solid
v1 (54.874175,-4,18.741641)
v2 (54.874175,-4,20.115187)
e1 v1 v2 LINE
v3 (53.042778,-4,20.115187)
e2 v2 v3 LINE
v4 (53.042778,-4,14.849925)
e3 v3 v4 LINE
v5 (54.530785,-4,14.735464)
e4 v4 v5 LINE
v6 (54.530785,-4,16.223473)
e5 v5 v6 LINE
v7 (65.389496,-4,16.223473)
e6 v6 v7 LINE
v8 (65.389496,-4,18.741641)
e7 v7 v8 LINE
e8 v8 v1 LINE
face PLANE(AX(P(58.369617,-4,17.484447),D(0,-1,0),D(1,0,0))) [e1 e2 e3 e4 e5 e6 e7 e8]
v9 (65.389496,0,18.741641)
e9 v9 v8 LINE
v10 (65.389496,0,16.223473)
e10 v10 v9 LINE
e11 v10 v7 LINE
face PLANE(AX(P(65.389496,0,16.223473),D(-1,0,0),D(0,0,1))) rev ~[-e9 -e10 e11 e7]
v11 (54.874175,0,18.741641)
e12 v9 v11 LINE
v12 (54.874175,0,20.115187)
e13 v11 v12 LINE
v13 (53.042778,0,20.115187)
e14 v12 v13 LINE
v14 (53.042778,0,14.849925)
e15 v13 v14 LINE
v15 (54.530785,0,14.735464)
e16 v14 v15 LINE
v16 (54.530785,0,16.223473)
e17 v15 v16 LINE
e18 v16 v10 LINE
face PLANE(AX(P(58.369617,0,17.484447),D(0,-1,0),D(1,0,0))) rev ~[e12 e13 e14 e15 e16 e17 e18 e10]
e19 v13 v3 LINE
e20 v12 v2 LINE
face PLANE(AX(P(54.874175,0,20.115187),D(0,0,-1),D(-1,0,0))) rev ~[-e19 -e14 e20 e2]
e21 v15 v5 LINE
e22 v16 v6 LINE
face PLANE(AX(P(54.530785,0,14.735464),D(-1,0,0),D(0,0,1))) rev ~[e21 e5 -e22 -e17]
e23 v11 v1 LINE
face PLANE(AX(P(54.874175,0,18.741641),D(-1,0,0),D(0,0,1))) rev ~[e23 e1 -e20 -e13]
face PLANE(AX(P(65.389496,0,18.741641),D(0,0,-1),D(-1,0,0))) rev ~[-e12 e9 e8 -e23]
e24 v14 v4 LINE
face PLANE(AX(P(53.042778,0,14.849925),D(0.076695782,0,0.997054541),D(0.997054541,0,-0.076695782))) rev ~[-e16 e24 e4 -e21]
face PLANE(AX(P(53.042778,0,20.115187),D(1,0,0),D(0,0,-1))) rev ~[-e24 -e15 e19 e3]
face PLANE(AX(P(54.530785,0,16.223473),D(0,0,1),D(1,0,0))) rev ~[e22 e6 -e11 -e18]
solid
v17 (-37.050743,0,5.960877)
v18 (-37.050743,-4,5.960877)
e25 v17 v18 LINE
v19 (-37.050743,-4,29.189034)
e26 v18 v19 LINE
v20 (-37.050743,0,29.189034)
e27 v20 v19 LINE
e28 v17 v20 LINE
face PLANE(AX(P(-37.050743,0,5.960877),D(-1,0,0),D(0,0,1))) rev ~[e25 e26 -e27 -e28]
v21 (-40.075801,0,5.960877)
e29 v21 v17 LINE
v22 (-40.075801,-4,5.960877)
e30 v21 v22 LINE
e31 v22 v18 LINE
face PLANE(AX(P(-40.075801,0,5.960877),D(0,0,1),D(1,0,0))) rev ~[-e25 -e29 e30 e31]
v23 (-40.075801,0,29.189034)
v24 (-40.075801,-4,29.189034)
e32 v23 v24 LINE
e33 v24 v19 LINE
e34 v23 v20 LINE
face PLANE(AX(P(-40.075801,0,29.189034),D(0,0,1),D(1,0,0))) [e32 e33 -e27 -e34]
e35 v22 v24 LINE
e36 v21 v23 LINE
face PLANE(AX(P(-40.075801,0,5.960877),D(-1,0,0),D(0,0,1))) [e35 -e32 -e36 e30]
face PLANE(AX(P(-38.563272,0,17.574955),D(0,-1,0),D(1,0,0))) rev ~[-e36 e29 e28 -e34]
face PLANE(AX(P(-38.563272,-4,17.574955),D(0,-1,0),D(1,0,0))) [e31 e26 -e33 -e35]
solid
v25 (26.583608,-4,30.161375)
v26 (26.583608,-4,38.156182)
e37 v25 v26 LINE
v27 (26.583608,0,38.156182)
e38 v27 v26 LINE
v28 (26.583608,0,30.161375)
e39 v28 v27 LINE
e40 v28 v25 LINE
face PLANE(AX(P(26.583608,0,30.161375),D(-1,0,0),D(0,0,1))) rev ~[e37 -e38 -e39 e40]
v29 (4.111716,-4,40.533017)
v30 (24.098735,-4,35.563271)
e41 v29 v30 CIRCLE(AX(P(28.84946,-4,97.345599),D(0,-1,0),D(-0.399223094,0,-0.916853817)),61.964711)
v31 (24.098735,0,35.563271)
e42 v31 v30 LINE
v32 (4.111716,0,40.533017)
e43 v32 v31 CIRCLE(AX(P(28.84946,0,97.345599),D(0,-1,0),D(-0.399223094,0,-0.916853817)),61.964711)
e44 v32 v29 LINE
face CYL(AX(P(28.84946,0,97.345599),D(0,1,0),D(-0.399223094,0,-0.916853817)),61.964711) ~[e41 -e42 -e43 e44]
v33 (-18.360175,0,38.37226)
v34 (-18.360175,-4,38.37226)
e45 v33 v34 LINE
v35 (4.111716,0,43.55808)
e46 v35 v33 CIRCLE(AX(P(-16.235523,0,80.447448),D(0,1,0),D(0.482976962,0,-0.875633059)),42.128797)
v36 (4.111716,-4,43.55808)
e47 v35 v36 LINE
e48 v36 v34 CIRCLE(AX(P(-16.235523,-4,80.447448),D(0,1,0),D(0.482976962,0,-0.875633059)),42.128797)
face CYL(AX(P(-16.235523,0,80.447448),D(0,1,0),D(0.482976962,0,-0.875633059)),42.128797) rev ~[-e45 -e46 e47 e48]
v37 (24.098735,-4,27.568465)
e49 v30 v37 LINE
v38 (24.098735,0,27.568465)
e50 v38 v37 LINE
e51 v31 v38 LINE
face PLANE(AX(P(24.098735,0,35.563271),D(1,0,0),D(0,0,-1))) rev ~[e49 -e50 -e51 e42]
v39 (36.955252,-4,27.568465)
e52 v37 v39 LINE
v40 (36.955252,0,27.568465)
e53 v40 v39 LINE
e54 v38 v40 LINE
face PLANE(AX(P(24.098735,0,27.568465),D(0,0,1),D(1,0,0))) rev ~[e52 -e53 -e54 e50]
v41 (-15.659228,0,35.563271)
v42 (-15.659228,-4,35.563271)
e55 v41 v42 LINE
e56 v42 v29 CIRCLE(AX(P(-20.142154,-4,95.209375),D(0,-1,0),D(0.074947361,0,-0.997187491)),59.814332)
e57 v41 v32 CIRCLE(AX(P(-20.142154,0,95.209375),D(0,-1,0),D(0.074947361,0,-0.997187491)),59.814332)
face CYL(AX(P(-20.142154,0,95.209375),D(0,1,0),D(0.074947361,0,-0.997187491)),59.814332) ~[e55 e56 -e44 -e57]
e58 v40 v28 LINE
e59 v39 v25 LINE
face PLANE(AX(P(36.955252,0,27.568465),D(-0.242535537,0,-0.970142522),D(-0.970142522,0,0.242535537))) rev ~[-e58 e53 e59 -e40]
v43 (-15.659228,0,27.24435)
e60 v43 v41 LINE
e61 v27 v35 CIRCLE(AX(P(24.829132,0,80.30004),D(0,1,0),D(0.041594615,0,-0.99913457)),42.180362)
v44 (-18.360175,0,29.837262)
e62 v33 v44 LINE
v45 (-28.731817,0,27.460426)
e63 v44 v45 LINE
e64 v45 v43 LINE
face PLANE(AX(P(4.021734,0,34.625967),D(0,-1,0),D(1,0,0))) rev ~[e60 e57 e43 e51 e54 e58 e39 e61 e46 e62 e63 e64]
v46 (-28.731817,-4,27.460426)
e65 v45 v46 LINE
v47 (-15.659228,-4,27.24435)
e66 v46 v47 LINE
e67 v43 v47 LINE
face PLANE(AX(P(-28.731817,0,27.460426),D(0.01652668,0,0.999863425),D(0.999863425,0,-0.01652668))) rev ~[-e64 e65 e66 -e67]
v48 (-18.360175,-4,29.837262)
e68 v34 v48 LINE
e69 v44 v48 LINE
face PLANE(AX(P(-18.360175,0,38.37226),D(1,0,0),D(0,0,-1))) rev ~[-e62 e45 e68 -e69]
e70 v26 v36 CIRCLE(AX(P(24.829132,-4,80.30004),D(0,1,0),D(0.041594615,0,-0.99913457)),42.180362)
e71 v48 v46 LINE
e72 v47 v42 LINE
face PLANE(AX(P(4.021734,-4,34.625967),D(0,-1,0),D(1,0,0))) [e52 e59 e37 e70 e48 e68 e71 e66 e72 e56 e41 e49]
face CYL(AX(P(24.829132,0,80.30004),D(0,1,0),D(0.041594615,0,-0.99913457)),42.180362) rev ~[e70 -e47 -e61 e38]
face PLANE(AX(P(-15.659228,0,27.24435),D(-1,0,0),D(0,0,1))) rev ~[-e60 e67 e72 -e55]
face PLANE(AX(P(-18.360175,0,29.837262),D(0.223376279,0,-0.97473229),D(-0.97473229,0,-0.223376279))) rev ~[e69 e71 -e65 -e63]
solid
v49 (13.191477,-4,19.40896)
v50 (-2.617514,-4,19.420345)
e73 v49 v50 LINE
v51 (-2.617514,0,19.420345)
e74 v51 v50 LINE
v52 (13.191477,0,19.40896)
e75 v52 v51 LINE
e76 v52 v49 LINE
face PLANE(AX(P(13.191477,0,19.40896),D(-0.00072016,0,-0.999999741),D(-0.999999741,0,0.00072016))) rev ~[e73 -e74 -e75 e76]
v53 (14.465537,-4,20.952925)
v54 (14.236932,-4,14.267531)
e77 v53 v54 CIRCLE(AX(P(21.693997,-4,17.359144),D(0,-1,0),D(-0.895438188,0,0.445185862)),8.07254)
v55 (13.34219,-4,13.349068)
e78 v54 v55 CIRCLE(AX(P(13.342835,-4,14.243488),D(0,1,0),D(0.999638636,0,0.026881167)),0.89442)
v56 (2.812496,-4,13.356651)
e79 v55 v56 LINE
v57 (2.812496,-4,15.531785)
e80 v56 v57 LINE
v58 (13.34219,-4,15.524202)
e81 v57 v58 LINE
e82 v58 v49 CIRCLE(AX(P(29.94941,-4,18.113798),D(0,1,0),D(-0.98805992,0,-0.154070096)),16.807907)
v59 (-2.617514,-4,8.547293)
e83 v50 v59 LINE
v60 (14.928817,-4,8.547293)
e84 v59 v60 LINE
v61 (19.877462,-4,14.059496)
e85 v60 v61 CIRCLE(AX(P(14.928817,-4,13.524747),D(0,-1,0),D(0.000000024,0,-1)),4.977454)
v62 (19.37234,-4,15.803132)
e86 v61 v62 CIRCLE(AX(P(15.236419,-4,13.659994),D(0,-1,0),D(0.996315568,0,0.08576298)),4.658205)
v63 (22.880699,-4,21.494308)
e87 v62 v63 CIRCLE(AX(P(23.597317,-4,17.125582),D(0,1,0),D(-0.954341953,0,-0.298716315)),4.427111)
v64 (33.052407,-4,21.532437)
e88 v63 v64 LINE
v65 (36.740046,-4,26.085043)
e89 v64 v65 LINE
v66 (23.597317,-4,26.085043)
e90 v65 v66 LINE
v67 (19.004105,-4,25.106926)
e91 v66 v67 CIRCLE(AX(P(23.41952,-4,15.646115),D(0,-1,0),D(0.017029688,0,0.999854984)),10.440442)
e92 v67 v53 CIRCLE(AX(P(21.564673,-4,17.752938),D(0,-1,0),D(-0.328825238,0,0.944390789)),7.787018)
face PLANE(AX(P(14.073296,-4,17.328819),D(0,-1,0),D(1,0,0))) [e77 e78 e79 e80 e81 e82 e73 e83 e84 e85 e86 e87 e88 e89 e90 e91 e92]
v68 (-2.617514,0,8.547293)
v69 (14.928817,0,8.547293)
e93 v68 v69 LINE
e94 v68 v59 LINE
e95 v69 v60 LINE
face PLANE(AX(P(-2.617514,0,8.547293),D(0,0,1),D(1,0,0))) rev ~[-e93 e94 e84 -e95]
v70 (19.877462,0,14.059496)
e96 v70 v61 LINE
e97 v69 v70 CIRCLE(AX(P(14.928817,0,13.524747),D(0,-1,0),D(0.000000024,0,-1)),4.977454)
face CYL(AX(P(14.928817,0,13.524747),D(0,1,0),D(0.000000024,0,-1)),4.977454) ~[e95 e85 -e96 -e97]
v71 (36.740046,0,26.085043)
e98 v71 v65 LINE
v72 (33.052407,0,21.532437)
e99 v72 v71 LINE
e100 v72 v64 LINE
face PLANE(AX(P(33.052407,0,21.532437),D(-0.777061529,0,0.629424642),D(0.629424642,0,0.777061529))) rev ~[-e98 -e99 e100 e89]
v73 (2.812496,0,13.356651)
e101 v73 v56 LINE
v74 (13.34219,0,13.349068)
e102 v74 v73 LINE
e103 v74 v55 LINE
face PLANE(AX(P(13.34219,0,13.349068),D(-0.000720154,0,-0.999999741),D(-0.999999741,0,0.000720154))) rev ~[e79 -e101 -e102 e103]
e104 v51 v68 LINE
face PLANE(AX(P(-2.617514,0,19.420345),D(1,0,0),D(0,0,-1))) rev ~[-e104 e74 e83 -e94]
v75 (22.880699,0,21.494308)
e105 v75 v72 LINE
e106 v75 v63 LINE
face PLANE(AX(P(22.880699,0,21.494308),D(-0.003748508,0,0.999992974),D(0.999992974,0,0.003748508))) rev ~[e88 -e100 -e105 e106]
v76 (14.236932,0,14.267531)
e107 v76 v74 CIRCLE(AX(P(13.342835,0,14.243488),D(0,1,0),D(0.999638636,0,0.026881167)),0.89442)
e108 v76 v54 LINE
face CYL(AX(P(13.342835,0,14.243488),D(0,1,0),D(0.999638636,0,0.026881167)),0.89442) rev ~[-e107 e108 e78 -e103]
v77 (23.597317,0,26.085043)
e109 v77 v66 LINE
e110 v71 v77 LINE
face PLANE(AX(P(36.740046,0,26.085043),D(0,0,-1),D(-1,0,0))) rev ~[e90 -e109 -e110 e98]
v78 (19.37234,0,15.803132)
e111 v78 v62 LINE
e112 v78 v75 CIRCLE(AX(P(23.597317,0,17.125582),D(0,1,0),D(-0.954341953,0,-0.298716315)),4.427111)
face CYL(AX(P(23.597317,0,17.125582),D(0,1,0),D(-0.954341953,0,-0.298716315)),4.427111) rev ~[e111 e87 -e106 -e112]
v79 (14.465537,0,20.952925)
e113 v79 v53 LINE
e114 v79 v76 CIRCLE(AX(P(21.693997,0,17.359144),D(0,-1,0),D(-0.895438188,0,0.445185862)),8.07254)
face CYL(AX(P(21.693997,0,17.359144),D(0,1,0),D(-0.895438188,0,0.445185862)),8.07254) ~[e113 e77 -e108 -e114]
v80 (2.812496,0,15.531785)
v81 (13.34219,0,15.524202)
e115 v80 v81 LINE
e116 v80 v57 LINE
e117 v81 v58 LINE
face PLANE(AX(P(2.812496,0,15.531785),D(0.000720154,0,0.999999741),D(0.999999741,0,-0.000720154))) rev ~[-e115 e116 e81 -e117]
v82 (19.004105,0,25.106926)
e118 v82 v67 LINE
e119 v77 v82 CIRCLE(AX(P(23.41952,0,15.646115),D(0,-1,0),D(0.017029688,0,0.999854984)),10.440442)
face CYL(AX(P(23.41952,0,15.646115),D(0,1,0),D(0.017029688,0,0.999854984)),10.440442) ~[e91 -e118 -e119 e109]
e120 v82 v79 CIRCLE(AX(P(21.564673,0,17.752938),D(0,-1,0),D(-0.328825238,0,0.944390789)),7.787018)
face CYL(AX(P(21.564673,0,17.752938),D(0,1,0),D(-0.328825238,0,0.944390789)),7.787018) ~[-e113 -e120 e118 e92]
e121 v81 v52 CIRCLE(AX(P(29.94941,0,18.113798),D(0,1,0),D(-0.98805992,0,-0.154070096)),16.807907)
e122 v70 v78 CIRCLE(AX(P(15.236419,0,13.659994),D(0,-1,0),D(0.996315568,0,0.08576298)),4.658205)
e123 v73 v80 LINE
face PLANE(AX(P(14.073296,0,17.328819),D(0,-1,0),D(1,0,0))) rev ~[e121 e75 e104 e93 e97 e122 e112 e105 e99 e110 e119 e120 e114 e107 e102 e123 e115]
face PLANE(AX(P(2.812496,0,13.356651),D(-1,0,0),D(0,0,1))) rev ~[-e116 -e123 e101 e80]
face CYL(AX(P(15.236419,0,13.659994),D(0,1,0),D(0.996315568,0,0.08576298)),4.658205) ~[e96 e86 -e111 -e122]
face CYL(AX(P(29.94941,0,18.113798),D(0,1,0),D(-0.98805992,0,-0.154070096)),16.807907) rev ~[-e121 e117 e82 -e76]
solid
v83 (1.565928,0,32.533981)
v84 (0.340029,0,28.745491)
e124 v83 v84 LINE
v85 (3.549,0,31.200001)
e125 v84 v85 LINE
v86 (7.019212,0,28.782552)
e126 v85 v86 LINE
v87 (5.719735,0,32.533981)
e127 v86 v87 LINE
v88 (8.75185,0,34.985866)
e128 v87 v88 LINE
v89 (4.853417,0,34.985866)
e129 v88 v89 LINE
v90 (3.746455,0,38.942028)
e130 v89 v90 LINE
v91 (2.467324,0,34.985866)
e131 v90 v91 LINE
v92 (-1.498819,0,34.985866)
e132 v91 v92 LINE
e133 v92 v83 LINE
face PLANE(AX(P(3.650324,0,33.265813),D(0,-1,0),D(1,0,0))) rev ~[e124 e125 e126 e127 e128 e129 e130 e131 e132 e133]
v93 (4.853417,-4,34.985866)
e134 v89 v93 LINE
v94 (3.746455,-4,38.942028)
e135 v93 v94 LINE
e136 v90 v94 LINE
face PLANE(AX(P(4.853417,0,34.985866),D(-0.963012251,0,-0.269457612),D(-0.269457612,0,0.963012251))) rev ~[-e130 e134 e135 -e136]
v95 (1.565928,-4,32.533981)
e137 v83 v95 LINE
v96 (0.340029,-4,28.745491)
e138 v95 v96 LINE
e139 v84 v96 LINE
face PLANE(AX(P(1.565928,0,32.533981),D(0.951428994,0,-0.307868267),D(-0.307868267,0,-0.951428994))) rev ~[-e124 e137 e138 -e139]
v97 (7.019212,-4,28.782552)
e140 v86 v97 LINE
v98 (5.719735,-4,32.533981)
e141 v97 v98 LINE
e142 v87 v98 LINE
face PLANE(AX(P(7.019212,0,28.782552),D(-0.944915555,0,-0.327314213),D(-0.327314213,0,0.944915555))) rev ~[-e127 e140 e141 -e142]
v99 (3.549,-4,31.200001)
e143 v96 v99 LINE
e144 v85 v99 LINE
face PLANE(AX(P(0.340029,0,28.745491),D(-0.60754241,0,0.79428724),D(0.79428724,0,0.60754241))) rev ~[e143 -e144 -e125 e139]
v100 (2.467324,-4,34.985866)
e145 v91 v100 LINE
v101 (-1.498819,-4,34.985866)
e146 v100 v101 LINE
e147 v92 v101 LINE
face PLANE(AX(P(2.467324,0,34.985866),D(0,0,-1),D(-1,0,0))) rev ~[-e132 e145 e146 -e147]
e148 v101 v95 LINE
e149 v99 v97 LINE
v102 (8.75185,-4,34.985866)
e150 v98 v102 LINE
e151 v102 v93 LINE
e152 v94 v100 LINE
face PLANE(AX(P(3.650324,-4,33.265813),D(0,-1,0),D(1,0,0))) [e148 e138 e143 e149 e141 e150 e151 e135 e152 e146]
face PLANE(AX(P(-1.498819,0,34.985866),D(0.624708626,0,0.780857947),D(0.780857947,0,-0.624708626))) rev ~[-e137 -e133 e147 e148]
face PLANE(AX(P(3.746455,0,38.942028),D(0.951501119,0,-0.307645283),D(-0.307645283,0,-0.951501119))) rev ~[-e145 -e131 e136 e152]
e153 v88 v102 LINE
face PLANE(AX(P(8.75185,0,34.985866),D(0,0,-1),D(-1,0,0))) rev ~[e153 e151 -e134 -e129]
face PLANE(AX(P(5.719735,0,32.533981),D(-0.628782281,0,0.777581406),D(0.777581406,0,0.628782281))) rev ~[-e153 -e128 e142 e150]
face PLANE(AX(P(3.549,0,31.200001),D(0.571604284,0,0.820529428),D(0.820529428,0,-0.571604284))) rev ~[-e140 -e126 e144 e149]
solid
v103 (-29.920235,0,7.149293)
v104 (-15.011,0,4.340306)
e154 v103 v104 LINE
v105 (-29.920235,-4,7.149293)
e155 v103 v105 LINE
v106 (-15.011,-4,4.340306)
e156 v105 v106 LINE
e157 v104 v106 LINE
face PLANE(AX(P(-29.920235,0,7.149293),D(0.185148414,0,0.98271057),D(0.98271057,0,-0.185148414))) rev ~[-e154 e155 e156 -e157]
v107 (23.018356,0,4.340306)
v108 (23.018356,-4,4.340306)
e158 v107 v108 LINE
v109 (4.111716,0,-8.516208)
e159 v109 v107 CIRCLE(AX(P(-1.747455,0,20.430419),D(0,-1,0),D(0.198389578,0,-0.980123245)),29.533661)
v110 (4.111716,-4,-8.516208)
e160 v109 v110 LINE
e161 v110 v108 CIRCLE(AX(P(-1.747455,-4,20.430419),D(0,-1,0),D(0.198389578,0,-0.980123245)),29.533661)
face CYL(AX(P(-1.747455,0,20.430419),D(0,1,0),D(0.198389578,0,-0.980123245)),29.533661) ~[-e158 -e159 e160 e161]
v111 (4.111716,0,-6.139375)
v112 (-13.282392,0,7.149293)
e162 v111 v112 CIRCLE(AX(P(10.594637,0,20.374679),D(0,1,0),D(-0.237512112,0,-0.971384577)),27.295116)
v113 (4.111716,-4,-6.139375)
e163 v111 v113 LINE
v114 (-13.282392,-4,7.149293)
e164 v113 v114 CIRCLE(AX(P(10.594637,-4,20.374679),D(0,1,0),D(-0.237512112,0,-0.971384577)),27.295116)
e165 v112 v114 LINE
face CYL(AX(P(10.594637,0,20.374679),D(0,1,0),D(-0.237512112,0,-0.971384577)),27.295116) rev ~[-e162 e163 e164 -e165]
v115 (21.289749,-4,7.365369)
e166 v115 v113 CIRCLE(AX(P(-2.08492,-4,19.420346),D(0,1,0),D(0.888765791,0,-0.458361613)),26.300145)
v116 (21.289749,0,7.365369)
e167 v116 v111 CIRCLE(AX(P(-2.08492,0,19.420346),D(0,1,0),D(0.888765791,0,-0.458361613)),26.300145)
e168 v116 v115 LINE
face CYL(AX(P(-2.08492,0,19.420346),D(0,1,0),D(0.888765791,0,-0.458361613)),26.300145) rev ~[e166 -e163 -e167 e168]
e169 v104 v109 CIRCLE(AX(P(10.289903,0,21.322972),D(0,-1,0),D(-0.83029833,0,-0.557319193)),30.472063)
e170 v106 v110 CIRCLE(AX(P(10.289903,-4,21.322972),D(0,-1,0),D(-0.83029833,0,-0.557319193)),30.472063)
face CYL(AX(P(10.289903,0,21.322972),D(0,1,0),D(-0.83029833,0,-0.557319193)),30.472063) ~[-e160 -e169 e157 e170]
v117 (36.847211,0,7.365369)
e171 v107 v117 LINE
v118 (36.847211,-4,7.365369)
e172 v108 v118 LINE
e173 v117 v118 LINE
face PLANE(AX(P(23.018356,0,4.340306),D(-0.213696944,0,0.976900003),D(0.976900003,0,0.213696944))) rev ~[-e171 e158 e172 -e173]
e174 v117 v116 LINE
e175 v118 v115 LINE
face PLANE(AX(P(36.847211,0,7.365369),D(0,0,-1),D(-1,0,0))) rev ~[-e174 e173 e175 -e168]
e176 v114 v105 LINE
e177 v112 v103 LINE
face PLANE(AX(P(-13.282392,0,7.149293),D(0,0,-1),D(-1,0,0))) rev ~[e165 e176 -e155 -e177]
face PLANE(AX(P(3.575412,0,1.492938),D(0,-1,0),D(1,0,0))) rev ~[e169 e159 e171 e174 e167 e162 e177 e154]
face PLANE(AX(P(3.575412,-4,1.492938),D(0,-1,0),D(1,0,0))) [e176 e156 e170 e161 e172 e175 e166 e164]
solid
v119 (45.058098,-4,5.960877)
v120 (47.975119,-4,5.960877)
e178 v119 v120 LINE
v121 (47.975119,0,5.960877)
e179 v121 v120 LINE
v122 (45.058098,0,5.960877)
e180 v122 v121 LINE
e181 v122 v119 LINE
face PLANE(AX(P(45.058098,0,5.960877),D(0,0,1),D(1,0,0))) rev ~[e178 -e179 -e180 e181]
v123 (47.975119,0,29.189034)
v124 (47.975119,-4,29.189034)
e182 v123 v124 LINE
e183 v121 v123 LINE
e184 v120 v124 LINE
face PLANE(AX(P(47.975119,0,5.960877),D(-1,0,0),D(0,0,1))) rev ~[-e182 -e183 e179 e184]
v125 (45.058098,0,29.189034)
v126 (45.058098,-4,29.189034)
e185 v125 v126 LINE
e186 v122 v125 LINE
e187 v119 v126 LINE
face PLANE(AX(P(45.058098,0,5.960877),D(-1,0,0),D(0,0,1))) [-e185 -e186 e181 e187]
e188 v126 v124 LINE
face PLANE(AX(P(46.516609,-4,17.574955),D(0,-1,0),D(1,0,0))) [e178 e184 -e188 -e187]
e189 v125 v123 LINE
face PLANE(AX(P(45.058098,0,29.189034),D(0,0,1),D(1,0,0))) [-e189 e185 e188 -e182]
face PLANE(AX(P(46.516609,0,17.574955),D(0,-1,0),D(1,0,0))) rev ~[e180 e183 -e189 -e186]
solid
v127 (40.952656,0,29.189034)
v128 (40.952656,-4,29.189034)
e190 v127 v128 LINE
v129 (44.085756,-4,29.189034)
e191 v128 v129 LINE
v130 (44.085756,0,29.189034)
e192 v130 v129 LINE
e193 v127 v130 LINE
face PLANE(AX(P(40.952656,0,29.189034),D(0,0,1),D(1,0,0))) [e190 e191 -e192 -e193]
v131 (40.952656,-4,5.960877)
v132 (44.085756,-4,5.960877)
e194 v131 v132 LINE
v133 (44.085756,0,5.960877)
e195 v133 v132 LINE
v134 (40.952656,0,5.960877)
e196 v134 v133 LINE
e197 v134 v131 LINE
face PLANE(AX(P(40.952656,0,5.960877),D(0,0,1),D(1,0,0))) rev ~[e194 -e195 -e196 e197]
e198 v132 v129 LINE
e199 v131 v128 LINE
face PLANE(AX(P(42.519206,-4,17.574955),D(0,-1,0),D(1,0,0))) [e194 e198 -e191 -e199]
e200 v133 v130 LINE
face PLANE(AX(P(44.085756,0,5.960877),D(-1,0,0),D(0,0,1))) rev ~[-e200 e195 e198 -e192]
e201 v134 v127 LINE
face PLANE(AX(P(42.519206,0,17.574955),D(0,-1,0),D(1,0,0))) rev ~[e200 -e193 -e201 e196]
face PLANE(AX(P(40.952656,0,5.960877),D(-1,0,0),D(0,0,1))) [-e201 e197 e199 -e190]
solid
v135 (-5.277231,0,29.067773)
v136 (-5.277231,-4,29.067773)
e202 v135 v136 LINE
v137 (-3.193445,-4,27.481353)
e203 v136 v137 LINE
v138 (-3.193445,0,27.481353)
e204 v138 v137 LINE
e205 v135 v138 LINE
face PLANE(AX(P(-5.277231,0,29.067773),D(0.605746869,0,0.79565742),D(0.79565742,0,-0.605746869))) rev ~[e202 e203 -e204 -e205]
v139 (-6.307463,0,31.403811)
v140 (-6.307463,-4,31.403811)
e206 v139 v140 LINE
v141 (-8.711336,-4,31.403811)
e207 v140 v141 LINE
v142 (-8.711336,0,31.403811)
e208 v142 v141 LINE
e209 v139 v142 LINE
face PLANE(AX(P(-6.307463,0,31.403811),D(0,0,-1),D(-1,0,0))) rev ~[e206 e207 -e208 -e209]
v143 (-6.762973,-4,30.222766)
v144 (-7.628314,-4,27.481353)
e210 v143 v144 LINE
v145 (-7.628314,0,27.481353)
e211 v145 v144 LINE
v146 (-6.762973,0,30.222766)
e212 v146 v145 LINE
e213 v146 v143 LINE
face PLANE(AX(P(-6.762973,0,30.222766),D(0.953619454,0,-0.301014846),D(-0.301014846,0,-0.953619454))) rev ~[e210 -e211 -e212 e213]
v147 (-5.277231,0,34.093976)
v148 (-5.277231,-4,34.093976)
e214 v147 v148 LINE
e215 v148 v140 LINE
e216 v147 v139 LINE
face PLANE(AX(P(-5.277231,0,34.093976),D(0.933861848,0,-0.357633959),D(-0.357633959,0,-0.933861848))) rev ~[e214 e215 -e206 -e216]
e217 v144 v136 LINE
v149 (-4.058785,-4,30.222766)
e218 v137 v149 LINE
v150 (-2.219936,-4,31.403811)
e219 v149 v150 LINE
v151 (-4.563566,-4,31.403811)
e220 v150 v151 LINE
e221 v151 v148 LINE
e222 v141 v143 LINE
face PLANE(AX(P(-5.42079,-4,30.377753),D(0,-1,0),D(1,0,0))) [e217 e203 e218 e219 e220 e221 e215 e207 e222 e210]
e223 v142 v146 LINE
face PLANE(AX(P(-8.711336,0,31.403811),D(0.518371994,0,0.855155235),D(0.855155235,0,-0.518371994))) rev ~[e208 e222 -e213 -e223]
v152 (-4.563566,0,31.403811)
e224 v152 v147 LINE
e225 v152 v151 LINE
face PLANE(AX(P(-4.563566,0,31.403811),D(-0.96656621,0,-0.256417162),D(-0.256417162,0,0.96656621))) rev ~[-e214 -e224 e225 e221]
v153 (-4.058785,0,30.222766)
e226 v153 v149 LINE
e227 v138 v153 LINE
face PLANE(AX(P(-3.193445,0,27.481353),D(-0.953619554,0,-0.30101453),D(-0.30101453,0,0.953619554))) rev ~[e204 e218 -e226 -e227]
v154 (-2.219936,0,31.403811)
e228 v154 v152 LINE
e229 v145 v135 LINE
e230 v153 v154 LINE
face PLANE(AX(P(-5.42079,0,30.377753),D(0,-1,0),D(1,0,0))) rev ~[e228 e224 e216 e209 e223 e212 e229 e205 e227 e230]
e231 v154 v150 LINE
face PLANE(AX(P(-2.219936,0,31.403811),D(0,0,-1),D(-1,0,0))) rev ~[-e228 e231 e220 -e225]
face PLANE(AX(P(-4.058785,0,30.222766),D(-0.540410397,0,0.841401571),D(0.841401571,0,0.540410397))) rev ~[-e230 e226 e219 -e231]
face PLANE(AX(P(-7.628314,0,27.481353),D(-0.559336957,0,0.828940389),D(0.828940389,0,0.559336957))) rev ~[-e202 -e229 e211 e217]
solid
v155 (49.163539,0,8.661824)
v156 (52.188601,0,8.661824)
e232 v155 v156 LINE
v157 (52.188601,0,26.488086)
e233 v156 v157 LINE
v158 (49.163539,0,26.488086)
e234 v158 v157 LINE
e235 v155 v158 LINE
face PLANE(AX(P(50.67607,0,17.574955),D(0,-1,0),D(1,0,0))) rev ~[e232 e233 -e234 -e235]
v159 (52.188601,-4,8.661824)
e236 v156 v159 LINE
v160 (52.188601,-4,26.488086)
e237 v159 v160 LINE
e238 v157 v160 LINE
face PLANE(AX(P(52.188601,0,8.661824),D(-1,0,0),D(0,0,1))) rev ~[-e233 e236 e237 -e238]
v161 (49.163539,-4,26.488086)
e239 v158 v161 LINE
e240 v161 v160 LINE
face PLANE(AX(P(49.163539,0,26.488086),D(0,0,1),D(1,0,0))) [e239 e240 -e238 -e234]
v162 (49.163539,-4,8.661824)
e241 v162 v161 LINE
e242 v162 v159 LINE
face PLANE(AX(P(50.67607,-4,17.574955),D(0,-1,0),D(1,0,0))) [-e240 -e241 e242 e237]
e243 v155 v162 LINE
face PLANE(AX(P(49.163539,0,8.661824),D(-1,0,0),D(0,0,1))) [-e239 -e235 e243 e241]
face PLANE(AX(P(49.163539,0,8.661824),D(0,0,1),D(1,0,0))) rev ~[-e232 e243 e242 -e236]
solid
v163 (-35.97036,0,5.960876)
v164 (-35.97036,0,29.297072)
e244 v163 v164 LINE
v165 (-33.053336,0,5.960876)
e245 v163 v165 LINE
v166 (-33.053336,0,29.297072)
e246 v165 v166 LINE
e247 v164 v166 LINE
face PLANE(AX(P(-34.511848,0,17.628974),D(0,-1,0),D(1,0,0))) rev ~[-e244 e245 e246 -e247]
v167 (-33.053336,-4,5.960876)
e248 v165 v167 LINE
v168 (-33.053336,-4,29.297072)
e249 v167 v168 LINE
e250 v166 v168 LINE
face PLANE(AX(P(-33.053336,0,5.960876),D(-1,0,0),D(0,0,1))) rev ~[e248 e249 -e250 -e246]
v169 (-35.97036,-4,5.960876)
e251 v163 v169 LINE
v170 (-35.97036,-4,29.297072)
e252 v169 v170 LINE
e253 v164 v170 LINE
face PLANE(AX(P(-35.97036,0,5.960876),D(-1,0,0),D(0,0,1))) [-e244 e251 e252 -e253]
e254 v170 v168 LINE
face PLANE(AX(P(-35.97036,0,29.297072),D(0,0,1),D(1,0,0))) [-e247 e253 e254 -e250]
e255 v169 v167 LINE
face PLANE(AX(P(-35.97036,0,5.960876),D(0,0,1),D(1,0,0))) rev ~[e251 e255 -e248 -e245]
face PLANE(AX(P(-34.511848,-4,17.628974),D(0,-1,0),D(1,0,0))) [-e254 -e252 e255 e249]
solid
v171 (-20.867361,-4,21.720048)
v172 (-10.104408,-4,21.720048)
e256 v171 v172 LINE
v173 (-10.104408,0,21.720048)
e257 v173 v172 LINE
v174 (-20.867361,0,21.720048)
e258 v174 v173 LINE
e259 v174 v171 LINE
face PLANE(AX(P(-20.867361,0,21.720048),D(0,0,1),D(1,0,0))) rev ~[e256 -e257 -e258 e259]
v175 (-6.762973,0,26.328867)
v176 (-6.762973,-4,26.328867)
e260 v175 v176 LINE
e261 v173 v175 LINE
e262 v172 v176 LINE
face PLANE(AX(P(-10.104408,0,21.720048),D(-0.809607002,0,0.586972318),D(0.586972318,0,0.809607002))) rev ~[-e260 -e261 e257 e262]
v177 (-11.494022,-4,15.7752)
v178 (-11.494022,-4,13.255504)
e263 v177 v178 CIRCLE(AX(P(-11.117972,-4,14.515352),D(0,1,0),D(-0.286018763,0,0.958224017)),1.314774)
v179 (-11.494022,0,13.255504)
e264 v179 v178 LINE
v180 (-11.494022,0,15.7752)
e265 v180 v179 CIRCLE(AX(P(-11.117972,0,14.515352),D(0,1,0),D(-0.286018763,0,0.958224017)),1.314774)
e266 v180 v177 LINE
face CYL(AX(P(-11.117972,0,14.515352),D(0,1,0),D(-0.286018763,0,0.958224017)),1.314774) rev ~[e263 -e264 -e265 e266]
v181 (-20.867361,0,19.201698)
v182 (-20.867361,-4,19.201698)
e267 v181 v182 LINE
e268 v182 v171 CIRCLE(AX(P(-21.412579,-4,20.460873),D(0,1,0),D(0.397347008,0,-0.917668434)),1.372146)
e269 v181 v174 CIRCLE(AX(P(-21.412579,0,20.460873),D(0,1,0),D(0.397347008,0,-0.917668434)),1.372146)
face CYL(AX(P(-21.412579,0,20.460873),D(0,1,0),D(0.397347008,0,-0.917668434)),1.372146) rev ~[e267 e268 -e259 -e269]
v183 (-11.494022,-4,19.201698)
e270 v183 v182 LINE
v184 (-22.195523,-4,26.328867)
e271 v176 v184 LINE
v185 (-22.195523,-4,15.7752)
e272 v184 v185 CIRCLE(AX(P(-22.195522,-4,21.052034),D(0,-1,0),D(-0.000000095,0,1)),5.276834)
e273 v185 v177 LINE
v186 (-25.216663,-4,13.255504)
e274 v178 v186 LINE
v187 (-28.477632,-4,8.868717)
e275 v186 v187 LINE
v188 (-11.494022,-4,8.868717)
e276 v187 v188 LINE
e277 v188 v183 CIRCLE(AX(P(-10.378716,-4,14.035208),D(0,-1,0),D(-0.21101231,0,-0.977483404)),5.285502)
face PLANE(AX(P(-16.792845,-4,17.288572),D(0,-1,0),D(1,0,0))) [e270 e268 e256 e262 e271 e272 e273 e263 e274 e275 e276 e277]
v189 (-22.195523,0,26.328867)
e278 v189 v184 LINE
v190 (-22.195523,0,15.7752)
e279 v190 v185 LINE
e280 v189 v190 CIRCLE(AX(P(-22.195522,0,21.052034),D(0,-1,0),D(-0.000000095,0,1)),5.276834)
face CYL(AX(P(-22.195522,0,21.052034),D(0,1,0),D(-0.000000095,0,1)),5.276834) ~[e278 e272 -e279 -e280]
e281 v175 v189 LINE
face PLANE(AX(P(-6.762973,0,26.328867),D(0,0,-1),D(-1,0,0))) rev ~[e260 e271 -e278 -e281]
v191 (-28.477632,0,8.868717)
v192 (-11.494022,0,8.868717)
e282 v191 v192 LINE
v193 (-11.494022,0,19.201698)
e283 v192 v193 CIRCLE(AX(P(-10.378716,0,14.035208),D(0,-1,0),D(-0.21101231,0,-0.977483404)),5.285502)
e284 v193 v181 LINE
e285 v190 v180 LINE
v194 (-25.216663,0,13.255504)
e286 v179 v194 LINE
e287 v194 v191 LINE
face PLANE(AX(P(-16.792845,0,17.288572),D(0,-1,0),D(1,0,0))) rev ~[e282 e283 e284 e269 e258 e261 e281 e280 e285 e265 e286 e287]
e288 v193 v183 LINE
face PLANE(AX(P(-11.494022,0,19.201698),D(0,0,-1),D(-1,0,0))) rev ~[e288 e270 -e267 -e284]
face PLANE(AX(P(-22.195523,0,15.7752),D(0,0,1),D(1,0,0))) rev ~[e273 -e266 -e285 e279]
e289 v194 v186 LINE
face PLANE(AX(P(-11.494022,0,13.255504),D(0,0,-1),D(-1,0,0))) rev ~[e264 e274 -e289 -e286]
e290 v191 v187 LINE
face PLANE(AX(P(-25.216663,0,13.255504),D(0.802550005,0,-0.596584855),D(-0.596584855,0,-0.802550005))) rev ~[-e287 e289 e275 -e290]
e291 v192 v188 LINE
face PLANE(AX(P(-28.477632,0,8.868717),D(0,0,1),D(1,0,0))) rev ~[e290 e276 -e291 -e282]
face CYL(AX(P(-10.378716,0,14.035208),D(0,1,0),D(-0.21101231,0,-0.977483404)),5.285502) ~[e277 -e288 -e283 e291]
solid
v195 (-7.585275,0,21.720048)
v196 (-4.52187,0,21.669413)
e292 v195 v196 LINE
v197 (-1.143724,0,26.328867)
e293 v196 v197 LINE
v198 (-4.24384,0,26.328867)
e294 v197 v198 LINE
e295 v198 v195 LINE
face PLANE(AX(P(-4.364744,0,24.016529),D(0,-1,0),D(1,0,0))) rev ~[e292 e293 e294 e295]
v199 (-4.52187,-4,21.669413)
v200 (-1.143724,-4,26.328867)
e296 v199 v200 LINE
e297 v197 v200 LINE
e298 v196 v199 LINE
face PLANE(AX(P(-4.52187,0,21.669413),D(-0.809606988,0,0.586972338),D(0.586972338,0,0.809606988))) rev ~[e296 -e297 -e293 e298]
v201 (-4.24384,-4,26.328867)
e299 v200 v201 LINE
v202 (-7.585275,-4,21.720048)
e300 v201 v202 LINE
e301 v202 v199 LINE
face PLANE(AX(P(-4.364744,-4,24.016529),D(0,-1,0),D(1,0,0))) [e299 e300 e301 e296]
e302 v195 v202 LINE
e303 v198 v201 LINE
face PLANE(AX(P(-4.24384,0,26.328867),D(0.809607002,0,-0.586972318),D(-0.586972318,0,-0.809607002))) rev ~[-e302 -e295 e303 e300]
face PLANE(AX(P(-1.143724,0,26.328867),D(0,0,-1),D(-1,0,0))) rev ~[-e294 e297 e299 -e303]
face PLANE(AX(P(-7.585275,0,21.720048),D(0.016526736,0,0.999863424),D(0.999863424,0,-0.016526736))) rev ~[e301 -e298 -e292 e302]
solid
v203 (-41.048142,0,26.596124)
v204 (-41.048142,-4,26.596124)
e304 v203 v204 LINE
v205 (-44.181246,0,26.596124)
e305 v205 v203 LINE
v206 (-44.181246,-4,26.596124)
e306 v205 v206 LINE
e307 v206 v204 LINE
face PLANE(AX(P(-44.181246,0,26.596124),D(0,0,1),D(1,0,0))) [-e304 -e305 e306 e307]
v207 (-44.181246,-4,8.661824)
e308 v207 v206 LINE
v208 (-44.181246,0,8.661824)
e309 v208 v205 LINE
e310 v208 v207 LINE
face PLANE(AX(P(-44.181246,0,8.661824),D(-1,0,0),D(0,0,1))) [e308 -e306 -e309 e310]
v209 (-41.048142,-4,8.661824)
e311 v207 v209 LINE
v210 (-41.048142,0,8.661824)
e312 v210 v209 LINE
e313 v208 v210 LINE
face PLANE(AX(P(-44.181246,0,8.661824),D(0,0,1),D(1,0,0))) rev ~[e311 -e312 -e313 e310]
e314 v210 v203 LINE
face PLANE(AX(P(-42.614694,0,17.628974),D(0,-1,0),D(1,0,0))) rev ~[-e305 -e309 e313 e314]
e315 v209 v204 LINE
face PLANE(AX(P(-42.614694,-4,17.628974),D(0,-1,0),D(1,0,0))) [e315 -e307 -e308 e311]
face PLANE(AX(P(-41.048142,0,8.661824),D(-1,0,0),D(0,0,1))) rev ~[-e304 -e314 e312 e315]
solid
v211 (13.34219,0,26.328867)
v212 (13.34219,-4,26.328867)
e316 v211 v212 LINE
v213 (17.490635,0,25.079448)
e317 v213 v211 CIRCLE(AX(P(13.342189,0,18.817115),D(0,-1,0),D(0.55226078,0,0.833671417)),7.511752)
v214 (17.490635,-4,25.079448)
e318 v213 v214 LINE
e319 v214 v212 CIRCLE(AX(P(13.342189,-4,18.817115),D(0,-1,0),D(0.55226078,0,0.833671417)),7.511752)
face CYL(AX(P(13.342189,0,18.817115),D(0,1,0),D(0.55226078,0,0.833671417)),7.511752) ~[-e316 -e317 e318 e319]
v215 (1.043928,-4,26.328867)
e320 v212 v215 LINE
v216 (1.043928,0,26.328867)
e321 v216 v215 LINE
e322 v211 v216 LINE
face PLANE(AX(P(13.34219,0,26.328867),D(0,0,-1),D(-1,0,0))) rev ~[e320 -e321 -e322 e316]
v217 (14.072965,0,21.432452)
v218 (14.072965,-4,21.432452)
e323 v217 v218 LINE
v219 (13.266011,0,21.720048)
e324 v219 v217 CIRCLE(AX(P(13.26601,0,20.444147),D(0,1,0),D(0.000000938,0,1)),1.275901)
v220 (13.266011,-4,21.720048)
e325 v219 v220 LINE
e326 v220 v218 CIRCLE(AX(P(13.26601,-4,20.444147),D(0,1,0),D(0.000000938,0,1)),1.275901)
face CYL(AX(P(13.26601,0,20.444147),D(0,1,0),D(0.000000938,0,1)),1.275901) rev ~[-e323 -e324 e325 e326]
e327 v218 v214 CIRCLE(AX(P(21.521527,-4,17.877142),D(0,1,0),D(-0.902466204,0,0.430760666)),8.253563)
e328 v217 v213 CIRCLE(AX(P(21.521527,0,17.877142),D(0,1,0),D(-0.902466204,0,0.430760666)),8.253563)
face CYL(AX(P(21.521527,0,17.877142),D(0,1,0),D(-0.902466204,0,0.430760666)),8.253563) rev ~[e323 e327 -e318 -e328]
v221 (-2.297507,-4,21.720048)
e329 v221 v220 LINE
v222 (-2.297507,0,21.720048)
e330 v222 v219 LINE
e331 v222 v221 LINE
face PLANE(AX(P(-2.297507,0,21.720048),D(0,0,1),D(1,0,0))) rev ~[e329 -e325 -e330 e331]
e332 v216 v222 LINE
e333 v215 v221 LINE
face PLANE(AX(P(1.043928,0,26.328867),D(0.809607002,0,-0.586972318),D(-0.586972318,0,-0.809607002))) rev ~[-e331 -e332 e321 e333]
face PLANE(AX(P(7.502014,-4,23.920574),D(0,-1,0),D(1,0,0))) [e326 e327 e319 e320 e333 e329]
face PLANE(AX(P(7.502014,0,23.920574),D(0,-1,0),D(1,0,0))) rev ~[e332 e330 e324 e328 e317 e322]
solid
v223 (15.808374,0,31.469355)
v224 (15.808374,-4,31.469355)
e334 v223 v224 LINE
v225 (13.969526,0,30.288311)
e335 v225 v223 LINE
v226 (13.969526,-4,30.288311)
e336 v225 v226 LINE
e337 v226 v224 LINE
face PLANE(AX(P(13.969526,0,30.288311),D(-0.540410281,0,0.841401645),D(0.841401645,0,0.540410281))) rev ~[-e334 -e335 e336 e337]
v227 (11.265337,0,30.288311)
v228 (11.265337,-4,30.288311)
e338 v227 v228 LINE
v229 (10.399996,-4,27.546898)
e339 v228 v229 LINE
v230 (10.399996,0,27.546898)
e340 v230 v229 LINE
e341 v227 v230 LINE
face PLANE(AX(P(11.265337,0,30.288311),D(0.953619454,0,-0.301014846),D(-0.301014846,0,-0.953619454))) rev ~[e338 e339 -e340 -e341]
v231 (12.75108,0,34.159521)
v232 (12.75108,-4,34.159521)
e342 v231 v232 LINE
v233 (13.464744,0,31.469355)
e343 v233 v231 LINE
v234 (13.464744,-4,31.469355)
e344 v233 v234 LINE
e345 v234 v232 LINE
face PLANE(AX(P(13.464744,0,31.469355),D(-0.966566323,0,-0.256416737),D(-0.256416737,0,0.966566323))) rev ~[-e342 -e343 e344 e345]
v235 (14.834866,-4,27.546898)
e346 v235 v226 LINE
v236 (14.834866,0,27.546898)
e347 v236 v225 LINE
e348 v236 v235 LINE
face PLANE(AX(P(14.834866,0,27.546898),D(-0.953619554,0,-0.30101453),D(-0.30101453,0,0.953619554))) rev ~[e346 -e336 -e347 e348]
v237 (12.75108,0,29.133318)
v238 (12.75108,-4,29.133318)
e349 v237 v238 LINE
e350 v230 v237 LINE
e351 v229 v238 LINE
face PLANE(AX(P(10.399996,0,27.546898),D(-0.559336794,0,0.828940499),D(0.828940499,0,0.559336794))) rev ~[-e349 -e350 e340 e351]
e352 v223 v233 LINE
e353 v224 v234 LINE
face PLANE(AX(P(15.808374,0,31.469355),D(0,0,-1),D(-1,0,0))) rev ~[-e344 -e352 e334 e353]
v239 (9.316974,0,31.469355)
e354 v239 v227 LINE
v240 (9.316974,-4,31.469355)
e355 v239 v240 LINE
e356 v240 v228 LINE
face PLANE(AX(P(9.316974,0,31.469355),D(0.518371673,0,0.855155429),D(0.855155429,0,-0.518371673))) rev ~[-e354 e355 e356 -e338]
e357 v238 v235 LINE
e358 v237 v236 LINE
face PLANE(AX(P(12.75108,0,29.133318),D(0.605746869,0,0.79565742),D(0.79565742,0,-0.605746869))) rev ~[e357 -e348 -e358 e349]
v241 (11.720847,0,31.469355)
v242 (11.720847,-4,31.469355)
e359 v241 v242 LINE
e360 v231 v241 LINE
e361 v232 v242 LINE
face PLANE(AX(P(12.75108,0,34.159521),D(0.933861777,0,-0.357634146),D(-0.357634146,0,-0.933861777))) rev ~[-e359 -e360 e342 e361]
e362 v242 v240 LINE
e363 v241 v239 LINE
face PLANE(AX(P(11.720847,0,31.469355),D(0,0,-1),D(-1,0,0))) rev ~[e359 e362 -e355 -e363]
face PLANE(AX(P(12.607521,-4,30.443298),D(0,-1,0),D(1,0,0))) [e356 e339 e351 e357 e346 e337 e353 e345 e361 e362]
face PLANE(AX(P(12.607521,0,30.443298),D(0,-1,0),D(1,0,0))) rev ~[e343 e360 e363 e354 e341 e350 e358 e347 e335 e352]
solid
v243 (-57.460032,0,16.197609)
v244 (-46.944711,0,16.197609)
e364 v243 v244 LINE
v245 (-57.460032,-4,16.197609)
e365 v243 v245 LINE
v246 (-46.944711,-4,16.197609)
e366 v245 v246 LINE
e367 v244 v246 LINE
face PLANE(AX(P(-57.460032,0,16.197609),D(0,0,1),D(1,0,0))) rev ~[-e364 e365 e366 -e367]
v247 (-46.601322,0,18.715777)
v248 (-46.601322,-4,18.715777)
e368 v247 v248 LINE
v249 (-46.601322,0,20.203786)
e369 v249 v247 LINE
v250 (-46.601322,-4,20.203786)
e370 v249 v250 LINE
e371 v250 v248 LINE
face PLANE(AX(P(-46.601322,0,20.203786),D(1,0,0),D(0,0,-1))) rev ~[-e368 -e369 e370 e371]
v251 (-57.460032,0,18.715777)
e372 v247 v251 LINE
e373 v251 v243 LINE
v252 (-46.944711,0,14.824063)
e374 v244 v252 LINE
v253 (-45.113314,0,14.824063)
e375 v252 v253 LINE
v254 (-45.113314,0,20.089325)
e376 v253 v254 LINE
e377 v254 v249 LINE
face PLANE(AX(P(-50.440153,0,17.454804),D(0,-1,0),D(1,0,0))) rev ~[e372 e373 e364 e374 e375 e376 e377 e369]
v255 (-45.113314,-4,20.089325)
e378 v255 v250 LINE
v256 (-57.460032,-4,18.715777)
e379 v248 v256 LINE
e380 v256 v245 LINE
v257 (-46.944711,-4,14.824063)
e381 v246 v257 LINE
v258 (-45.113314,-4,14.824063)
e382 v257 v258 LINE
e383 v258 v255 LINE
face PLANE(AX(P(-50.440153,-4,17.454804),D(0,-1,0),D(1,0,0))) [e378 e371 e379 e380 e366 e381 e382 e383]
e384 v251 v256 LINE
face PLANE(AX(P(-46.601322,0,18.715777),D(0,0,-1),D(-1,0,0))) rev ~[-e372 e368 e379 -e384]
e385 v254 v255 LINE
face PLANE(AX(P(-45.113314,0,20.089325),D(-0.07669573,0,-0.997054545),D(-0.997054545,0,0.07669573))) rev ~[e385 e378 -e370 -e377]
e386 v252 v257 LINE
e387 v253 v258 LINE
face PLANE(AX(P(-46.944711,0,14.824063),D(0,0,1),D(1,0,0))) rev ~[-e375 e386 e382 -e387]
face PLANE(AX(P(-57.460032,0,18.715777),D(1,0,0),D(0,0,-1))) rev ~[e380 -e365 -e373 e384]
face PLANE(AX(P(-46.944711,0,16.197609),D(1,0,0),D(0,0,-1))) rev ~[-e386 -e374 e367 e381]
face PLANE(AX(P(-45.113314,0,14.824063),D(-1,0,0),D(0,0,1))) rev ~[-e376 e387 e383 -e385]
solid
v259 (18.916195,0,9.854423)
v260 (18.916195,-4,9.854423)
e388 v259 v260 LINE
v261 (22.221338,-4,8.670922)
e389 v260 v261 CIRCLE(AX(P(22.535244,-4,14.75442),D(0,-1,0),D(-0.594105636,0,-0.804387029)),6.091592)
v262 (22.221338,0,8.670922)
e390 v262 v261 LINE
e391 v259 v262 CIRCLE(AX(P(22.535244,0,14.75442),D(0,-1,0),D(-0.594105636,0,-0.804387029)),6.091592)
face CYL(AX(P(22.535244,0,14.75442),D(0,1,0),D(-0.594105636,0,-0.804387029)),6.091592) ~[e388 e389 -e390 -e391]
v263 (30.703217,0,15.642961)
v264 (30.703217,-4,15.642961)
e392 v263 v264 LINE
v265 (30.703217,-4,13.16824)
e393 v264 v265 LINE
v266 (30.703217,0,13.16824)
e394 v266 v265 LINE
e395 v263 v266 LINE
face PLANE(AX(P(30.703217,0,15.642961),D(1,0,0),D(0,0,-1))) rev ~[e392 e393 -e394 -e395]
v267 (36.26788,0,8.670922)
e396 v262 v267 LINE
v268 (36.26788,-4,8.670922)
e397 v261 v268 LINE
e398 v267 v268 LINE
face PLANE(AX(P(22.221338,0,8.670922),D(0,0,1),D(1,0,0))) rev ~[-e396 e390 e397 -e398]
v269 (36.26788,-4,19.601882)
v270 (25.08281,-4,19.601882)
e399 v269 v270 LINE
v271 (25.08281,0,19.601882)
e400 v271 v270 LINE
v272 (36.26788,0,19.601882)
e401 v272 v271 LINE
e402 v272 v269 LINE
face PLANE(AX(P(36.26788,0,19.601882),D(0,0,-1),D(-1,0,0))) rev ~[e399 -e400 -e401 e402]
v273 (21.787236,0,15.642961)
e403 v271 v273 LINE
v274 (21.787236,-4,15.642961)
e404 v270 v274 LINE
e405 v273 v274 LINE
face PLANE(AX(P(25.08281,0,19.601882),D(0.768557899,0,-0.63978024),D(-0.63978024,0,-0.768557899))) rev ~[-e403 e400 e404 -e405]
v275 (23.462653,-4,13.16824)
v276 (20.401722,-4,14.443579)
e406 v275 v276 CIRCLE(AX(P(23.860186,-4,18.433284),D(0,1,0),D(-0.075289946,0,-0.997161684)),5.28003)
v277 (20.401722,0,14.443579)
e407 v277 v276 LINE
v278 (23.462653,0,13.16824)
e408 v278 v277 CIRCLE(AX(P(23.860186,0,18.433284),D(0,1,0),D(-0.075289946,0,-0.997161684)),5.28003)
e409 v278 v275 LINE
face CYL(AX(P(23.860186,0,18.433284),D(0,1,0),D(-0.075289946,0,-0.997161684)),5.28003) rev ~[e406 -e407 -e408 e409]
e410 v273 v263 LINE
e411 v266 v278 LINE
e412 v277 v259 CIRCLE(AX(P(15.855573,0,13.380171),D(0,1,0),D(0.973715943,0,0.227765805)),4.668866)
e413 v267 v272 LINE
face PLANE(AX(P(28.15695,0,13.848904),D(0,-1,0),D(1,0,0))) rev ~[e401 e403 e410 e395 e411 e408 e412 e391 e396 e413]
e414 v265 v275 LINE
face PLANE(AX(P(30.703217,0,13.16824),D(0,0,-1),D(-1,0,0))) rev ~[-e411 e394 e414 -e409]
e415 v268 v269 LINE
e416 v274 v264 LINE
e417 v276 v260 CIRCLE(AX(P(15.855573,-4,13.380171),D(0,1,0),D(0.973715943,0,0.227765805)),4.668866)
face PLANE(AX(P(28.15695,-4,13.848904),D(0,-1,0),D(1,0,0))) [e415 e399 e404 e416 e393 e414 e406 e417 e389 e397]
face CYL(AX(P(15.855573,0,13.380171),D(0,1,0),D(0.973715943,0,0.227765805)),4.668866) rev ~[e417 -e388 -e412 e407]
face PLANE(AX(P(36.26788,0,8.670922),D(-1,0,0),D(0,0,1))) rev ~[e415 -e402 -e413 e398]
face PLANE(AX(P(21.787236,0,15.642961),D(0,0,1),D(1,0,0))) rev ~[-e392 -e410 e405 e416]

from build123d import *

# Parameters (mm, degrees)
F0_W     = 2.917025
F0_H     = 23.336196
F0_W_2   = 3.025058
F0_H_2   = 23.228157
F0_W_3   = 3.133103
F0_H_3   = 17.934299
F0_W_4   = 3.1331
F0_W_5   = 2.917021
F0_W_6   = 3.025062
F0_H_4   = 17.826262
F1_DEPTH = 4


with BuildPart() as f1:
    # F0 (on Front) → F1 (new body)
    with BuildSketch(Plane.XZ):
        with BuildLine():
            Line((-18.360175, 29.837262), (-28.731817, 27.460426))
            Line((-28.731817, 27.460426), (-15.659228, 27.24435))
            Line((-15.659228, 27.24435), (-15.659228, 35.563271))
            ThreePointArc((-15.659228, 35.563271), (-5.560472, 37.199644), (4.111716, 40.533017))
            ThreePointArc((4.111716, 40.533017), (13.897301, 37.211928), (24.098735, 35.563271))
            Line((24.098735, 35.563271), (24.098735, 27.568465))
            Line((24.098735, 27.568465), (36.955252, 27.568465))
            Line((36.955252, 27.568465), (26.583608, 30.161375))
            Line((26.583608, 30.161375), (26.583608, 38.156182))
            ThreePointArc((26.583608, 38.156182), (14.970461, 39.287974), (4.111716, 43.55808))
            ThreePointArc((4.111716, 43.55808), (-6.762464, 39.397518), (-18.360175, 38.37226))
            Line((-18.360175, 38.37226), (-18.360175, 29.837262))
        make_face()
        with BuildLine():
            Line((-13.282392, 7.149293), (-29.920235, 7.149293))
            Line((-29.920235, 7.149293), (-15.011, 4.340306))
            ThreePointArc((-15.011, 4.340306), (-6.711737, -3.965185), (4.111716, -8.516208))
            ThreePointArc((4.111716, -8.516208), (14.859618, -3.991748), (23.018356, 4.340306))
            Line((23.018356, 4.340306), (36.847211, 7.365369))
            Line((36.847211, 7.365369), (21.289749, 7.365369))
            ThreePointArc((21.289749, 7.365369), (14.169619, -1.255427), (4.111716, -6.139375))
            ThreePointArc((4.111716, -6.139375), (-5.975783, -1.315054), (-13.282392, 7.149293))
        make_face()
        with Locations((-34.511848, 17.628974)):
            Rectangle(F0_W, F0_H)
        with Locations((-38.563272, 17.574955)):
            Rectangle(F0_W_2, F0_H_2)
        with Locations((-42.614694, 17.628974)):
            Rectangle(F0_W_3, F0_H_3)
        with Locations((42.519206, 17.574955)):
            Rectangle(F0_W_4, F0_H_2)
        with Locations((46.516609, 17.574955)):
            Rectangle(F0_W_5, F0_H_2)
        with Locations((50.67607, 17.574955)):
            Rectangle(F0_W_6, F0_H_4)
        Polygon((-45.113314, 14.824063), (-45.113314, 20.089325), (-46.601322, 20.203786), (-46.601322, 18.715777), (-57.460032, 18.715777), (-57.460032, 16.197609), (-46.944711, 16.197609), (-46.944711, 14.824063), align=None)
        Polygon((53.042778, 20.115187), (53.042778, 14.849925), (54.530785, 14.735464), (54.530785, 16.223473), (65.389496, 16.223473), (65.389496, 18.741641), (54.874175, 18.741641), (54.874175, 20.115187), align=None)
        Polygon((-6.307463, 31.403811), (-8.711336, 31.403811), (-6.762973, 30.222766), (-7.628314, 27.481353), (-5.277231, 29.067773), (-3.193445, 27.481353), (-4.058785, 30.222766), (-2.219936, 31.403811), (-4.563566, 31.403811), (-5.277231, 34.093976), align=None)
        Polygon((0.340029, 28.745491), (3.549, 31.200001), (7.019212, 28.782552), (5.719735, 32.533981), (8.75185, 34.985866), (4.853417, 34.985866), (3.746455, 38.942028), (2.467324, 34.985866), (-1.498819, 34.985866), (1.565928, 32.533981), align=None)
        Polygon((11.720847, 31.469355), (9.316974, 31.469355), (11.265337, 30.288311), (10.399996, 27.546898), (12.75108, 29.133318), (14.834866, 27.546898), (13.969526, 30.288311), (15.808374, 31.469355), (13.464744, 31.469355), (12.75108, 34.159521), align=None)
        with BuildLine():
            Line((-10.104408, 21.720048), (-6.762973, 26.328867))
            Line((-6.762973, 26.328867), (-22.195523, 26.328867))
            ThreePointArc((-22.195523, 26.328867), (-27.472356, 21.052034), (-22.195523, 15.7752))
            Line((-22.195523, 15.7752), (-11.494022, 15.7752))
            ThreePointArc((-11.494022, 15.7752), (-9.803198, 14.515352), (-11.494022, 13.255504))
            Line((-11.494022, 13.255504), (-25.216663, 13.255504))
            Line((-25.216663, 13.255504), (-28.477632, 8.868717))
            Line((-28.477632, 8.868717), (-11.494022, 8.868717))
            ThreePointArc((-11.494022, 8.868717), (-5.093214, 14.035207), (-11.494022, 19.201698))
            Line((-11.494022, 19.201698), (-20.867361, 19.201698))
            ThreePointArc((-20.867361, 19.201698), (-22.784725, 20.460873), (-20.867361, 21.720048))
            Line((-20.867361, 21.720048), (-10.104408, 21.720048))
        make_face()
        Polygon((-1.143724, 26.328867), (-4.24384, 26.328867), (-7.585275, 21.720048), (-4.52187, 21.669413), align=None)
        with BuildLine():
            Line((13.34219, 26.328867), (1.043928, 26.328867))
            Line((1.043928, 26.328867), (-2.297507, 21.720048))
            Line((-2.297507, 21.720048), (13.266011, 21.720048))
            ThreePointArc((13.266011, 21.720048), (13.694347, 21.646), (14.072965, 21.432452))
            ThreePointArc((14.072965, 21.432452), (15.499101, 23.520872), (17.490635, 25.079448))
            ThreePointArc((17.490635, 25.079448), (15.508445, 26.009733), (13.34219, 26.328867))
        make_face()
        with BuildLine():
            ThreePointArc((13.34219, 15.524202), (13.154137, 17.462209), (13.191477, 19.40896))
            Line((13.191477, 19.40896), (-2.617514, 19.420345))
            Line((-2.617514, 19.420345), (-2.617514, 8.547293))
            Line((-2.617514, 8.547293), (14.928817, 8.547293))
            ThreePointArc((14.928817, 8.547293), (18.632648, 10.199588), (19.877462, 14.059496))
            ThreePointArc((19.877462, 14.059496), (19.710661, 14.956158), (19.37234, 15.803132))
            ThreePointArc((19.37234, 15.803132), (19.828735, 19.448747), (22.880699, 21.494308))
            Line((22.880699, 21.494308), (33.052407, 21.532437))
            Line((33.052407, 21.532437), (36.740046, 26.085043))
            Line((36.740046, 26.085043), (23.597317, 26.085043))
            ThreePointArc((23.597317, 26.085043), (21.245002, 25.857594), (19.004105, 25.106926))
            ThreePointArc((19.004105, 25.106926), (16.307164, 23.497174), (14.465537, 20.952925))
            ThreePointArc((14.465537, 20.952925), (13.626173, 17.635021), (14.236932, 14.267531))
            ThreePointArc((14.236932, 14.267531), (13.983505, 13.619365), (13.34219, 13.349068))
            Line((13.34219, 13.349068), (2.812496, 13.356651))
            Line((2.812496, 13.356651), (2.812496, 15.531785))
            Line((2.812496, 15.531785), (13.34219, 15.524202))
        make_face()
        with BuildLine():
            ThreePointArc((20.401722, 14.443579), (20.297513, 11.942299), (18.916195, 9.854423))
            ThreePointArc((18.916195, 9.854423), (20.481661, 9.019415), (22.221338, 8.670922))
            Line((22.221338, 8.670922), (36.26788, 8.670922))
            Line((36.26788, 8.670922), (36.26788, 19.601882))
            Line((36.26788, 19.601882), (25.08281, 19.601882))
            Line((25.08281, 19.601882), (21.787236, 15.642961))
            Line((21.787236, 15.642961), (30.703217, 15.642961))
            Line((30.703217, 15.642961), (30.703217, 13.16824))
            Line((30.703217, 13.16824), (23.462653, 13.16824))
            ThreePointArc((23.462653, 13.16824), (21.829472, 13.559382), (20.401722, 14.443579))
        make_face()
    extrude(amount=F1_DEPTH)


solid = f1.part
